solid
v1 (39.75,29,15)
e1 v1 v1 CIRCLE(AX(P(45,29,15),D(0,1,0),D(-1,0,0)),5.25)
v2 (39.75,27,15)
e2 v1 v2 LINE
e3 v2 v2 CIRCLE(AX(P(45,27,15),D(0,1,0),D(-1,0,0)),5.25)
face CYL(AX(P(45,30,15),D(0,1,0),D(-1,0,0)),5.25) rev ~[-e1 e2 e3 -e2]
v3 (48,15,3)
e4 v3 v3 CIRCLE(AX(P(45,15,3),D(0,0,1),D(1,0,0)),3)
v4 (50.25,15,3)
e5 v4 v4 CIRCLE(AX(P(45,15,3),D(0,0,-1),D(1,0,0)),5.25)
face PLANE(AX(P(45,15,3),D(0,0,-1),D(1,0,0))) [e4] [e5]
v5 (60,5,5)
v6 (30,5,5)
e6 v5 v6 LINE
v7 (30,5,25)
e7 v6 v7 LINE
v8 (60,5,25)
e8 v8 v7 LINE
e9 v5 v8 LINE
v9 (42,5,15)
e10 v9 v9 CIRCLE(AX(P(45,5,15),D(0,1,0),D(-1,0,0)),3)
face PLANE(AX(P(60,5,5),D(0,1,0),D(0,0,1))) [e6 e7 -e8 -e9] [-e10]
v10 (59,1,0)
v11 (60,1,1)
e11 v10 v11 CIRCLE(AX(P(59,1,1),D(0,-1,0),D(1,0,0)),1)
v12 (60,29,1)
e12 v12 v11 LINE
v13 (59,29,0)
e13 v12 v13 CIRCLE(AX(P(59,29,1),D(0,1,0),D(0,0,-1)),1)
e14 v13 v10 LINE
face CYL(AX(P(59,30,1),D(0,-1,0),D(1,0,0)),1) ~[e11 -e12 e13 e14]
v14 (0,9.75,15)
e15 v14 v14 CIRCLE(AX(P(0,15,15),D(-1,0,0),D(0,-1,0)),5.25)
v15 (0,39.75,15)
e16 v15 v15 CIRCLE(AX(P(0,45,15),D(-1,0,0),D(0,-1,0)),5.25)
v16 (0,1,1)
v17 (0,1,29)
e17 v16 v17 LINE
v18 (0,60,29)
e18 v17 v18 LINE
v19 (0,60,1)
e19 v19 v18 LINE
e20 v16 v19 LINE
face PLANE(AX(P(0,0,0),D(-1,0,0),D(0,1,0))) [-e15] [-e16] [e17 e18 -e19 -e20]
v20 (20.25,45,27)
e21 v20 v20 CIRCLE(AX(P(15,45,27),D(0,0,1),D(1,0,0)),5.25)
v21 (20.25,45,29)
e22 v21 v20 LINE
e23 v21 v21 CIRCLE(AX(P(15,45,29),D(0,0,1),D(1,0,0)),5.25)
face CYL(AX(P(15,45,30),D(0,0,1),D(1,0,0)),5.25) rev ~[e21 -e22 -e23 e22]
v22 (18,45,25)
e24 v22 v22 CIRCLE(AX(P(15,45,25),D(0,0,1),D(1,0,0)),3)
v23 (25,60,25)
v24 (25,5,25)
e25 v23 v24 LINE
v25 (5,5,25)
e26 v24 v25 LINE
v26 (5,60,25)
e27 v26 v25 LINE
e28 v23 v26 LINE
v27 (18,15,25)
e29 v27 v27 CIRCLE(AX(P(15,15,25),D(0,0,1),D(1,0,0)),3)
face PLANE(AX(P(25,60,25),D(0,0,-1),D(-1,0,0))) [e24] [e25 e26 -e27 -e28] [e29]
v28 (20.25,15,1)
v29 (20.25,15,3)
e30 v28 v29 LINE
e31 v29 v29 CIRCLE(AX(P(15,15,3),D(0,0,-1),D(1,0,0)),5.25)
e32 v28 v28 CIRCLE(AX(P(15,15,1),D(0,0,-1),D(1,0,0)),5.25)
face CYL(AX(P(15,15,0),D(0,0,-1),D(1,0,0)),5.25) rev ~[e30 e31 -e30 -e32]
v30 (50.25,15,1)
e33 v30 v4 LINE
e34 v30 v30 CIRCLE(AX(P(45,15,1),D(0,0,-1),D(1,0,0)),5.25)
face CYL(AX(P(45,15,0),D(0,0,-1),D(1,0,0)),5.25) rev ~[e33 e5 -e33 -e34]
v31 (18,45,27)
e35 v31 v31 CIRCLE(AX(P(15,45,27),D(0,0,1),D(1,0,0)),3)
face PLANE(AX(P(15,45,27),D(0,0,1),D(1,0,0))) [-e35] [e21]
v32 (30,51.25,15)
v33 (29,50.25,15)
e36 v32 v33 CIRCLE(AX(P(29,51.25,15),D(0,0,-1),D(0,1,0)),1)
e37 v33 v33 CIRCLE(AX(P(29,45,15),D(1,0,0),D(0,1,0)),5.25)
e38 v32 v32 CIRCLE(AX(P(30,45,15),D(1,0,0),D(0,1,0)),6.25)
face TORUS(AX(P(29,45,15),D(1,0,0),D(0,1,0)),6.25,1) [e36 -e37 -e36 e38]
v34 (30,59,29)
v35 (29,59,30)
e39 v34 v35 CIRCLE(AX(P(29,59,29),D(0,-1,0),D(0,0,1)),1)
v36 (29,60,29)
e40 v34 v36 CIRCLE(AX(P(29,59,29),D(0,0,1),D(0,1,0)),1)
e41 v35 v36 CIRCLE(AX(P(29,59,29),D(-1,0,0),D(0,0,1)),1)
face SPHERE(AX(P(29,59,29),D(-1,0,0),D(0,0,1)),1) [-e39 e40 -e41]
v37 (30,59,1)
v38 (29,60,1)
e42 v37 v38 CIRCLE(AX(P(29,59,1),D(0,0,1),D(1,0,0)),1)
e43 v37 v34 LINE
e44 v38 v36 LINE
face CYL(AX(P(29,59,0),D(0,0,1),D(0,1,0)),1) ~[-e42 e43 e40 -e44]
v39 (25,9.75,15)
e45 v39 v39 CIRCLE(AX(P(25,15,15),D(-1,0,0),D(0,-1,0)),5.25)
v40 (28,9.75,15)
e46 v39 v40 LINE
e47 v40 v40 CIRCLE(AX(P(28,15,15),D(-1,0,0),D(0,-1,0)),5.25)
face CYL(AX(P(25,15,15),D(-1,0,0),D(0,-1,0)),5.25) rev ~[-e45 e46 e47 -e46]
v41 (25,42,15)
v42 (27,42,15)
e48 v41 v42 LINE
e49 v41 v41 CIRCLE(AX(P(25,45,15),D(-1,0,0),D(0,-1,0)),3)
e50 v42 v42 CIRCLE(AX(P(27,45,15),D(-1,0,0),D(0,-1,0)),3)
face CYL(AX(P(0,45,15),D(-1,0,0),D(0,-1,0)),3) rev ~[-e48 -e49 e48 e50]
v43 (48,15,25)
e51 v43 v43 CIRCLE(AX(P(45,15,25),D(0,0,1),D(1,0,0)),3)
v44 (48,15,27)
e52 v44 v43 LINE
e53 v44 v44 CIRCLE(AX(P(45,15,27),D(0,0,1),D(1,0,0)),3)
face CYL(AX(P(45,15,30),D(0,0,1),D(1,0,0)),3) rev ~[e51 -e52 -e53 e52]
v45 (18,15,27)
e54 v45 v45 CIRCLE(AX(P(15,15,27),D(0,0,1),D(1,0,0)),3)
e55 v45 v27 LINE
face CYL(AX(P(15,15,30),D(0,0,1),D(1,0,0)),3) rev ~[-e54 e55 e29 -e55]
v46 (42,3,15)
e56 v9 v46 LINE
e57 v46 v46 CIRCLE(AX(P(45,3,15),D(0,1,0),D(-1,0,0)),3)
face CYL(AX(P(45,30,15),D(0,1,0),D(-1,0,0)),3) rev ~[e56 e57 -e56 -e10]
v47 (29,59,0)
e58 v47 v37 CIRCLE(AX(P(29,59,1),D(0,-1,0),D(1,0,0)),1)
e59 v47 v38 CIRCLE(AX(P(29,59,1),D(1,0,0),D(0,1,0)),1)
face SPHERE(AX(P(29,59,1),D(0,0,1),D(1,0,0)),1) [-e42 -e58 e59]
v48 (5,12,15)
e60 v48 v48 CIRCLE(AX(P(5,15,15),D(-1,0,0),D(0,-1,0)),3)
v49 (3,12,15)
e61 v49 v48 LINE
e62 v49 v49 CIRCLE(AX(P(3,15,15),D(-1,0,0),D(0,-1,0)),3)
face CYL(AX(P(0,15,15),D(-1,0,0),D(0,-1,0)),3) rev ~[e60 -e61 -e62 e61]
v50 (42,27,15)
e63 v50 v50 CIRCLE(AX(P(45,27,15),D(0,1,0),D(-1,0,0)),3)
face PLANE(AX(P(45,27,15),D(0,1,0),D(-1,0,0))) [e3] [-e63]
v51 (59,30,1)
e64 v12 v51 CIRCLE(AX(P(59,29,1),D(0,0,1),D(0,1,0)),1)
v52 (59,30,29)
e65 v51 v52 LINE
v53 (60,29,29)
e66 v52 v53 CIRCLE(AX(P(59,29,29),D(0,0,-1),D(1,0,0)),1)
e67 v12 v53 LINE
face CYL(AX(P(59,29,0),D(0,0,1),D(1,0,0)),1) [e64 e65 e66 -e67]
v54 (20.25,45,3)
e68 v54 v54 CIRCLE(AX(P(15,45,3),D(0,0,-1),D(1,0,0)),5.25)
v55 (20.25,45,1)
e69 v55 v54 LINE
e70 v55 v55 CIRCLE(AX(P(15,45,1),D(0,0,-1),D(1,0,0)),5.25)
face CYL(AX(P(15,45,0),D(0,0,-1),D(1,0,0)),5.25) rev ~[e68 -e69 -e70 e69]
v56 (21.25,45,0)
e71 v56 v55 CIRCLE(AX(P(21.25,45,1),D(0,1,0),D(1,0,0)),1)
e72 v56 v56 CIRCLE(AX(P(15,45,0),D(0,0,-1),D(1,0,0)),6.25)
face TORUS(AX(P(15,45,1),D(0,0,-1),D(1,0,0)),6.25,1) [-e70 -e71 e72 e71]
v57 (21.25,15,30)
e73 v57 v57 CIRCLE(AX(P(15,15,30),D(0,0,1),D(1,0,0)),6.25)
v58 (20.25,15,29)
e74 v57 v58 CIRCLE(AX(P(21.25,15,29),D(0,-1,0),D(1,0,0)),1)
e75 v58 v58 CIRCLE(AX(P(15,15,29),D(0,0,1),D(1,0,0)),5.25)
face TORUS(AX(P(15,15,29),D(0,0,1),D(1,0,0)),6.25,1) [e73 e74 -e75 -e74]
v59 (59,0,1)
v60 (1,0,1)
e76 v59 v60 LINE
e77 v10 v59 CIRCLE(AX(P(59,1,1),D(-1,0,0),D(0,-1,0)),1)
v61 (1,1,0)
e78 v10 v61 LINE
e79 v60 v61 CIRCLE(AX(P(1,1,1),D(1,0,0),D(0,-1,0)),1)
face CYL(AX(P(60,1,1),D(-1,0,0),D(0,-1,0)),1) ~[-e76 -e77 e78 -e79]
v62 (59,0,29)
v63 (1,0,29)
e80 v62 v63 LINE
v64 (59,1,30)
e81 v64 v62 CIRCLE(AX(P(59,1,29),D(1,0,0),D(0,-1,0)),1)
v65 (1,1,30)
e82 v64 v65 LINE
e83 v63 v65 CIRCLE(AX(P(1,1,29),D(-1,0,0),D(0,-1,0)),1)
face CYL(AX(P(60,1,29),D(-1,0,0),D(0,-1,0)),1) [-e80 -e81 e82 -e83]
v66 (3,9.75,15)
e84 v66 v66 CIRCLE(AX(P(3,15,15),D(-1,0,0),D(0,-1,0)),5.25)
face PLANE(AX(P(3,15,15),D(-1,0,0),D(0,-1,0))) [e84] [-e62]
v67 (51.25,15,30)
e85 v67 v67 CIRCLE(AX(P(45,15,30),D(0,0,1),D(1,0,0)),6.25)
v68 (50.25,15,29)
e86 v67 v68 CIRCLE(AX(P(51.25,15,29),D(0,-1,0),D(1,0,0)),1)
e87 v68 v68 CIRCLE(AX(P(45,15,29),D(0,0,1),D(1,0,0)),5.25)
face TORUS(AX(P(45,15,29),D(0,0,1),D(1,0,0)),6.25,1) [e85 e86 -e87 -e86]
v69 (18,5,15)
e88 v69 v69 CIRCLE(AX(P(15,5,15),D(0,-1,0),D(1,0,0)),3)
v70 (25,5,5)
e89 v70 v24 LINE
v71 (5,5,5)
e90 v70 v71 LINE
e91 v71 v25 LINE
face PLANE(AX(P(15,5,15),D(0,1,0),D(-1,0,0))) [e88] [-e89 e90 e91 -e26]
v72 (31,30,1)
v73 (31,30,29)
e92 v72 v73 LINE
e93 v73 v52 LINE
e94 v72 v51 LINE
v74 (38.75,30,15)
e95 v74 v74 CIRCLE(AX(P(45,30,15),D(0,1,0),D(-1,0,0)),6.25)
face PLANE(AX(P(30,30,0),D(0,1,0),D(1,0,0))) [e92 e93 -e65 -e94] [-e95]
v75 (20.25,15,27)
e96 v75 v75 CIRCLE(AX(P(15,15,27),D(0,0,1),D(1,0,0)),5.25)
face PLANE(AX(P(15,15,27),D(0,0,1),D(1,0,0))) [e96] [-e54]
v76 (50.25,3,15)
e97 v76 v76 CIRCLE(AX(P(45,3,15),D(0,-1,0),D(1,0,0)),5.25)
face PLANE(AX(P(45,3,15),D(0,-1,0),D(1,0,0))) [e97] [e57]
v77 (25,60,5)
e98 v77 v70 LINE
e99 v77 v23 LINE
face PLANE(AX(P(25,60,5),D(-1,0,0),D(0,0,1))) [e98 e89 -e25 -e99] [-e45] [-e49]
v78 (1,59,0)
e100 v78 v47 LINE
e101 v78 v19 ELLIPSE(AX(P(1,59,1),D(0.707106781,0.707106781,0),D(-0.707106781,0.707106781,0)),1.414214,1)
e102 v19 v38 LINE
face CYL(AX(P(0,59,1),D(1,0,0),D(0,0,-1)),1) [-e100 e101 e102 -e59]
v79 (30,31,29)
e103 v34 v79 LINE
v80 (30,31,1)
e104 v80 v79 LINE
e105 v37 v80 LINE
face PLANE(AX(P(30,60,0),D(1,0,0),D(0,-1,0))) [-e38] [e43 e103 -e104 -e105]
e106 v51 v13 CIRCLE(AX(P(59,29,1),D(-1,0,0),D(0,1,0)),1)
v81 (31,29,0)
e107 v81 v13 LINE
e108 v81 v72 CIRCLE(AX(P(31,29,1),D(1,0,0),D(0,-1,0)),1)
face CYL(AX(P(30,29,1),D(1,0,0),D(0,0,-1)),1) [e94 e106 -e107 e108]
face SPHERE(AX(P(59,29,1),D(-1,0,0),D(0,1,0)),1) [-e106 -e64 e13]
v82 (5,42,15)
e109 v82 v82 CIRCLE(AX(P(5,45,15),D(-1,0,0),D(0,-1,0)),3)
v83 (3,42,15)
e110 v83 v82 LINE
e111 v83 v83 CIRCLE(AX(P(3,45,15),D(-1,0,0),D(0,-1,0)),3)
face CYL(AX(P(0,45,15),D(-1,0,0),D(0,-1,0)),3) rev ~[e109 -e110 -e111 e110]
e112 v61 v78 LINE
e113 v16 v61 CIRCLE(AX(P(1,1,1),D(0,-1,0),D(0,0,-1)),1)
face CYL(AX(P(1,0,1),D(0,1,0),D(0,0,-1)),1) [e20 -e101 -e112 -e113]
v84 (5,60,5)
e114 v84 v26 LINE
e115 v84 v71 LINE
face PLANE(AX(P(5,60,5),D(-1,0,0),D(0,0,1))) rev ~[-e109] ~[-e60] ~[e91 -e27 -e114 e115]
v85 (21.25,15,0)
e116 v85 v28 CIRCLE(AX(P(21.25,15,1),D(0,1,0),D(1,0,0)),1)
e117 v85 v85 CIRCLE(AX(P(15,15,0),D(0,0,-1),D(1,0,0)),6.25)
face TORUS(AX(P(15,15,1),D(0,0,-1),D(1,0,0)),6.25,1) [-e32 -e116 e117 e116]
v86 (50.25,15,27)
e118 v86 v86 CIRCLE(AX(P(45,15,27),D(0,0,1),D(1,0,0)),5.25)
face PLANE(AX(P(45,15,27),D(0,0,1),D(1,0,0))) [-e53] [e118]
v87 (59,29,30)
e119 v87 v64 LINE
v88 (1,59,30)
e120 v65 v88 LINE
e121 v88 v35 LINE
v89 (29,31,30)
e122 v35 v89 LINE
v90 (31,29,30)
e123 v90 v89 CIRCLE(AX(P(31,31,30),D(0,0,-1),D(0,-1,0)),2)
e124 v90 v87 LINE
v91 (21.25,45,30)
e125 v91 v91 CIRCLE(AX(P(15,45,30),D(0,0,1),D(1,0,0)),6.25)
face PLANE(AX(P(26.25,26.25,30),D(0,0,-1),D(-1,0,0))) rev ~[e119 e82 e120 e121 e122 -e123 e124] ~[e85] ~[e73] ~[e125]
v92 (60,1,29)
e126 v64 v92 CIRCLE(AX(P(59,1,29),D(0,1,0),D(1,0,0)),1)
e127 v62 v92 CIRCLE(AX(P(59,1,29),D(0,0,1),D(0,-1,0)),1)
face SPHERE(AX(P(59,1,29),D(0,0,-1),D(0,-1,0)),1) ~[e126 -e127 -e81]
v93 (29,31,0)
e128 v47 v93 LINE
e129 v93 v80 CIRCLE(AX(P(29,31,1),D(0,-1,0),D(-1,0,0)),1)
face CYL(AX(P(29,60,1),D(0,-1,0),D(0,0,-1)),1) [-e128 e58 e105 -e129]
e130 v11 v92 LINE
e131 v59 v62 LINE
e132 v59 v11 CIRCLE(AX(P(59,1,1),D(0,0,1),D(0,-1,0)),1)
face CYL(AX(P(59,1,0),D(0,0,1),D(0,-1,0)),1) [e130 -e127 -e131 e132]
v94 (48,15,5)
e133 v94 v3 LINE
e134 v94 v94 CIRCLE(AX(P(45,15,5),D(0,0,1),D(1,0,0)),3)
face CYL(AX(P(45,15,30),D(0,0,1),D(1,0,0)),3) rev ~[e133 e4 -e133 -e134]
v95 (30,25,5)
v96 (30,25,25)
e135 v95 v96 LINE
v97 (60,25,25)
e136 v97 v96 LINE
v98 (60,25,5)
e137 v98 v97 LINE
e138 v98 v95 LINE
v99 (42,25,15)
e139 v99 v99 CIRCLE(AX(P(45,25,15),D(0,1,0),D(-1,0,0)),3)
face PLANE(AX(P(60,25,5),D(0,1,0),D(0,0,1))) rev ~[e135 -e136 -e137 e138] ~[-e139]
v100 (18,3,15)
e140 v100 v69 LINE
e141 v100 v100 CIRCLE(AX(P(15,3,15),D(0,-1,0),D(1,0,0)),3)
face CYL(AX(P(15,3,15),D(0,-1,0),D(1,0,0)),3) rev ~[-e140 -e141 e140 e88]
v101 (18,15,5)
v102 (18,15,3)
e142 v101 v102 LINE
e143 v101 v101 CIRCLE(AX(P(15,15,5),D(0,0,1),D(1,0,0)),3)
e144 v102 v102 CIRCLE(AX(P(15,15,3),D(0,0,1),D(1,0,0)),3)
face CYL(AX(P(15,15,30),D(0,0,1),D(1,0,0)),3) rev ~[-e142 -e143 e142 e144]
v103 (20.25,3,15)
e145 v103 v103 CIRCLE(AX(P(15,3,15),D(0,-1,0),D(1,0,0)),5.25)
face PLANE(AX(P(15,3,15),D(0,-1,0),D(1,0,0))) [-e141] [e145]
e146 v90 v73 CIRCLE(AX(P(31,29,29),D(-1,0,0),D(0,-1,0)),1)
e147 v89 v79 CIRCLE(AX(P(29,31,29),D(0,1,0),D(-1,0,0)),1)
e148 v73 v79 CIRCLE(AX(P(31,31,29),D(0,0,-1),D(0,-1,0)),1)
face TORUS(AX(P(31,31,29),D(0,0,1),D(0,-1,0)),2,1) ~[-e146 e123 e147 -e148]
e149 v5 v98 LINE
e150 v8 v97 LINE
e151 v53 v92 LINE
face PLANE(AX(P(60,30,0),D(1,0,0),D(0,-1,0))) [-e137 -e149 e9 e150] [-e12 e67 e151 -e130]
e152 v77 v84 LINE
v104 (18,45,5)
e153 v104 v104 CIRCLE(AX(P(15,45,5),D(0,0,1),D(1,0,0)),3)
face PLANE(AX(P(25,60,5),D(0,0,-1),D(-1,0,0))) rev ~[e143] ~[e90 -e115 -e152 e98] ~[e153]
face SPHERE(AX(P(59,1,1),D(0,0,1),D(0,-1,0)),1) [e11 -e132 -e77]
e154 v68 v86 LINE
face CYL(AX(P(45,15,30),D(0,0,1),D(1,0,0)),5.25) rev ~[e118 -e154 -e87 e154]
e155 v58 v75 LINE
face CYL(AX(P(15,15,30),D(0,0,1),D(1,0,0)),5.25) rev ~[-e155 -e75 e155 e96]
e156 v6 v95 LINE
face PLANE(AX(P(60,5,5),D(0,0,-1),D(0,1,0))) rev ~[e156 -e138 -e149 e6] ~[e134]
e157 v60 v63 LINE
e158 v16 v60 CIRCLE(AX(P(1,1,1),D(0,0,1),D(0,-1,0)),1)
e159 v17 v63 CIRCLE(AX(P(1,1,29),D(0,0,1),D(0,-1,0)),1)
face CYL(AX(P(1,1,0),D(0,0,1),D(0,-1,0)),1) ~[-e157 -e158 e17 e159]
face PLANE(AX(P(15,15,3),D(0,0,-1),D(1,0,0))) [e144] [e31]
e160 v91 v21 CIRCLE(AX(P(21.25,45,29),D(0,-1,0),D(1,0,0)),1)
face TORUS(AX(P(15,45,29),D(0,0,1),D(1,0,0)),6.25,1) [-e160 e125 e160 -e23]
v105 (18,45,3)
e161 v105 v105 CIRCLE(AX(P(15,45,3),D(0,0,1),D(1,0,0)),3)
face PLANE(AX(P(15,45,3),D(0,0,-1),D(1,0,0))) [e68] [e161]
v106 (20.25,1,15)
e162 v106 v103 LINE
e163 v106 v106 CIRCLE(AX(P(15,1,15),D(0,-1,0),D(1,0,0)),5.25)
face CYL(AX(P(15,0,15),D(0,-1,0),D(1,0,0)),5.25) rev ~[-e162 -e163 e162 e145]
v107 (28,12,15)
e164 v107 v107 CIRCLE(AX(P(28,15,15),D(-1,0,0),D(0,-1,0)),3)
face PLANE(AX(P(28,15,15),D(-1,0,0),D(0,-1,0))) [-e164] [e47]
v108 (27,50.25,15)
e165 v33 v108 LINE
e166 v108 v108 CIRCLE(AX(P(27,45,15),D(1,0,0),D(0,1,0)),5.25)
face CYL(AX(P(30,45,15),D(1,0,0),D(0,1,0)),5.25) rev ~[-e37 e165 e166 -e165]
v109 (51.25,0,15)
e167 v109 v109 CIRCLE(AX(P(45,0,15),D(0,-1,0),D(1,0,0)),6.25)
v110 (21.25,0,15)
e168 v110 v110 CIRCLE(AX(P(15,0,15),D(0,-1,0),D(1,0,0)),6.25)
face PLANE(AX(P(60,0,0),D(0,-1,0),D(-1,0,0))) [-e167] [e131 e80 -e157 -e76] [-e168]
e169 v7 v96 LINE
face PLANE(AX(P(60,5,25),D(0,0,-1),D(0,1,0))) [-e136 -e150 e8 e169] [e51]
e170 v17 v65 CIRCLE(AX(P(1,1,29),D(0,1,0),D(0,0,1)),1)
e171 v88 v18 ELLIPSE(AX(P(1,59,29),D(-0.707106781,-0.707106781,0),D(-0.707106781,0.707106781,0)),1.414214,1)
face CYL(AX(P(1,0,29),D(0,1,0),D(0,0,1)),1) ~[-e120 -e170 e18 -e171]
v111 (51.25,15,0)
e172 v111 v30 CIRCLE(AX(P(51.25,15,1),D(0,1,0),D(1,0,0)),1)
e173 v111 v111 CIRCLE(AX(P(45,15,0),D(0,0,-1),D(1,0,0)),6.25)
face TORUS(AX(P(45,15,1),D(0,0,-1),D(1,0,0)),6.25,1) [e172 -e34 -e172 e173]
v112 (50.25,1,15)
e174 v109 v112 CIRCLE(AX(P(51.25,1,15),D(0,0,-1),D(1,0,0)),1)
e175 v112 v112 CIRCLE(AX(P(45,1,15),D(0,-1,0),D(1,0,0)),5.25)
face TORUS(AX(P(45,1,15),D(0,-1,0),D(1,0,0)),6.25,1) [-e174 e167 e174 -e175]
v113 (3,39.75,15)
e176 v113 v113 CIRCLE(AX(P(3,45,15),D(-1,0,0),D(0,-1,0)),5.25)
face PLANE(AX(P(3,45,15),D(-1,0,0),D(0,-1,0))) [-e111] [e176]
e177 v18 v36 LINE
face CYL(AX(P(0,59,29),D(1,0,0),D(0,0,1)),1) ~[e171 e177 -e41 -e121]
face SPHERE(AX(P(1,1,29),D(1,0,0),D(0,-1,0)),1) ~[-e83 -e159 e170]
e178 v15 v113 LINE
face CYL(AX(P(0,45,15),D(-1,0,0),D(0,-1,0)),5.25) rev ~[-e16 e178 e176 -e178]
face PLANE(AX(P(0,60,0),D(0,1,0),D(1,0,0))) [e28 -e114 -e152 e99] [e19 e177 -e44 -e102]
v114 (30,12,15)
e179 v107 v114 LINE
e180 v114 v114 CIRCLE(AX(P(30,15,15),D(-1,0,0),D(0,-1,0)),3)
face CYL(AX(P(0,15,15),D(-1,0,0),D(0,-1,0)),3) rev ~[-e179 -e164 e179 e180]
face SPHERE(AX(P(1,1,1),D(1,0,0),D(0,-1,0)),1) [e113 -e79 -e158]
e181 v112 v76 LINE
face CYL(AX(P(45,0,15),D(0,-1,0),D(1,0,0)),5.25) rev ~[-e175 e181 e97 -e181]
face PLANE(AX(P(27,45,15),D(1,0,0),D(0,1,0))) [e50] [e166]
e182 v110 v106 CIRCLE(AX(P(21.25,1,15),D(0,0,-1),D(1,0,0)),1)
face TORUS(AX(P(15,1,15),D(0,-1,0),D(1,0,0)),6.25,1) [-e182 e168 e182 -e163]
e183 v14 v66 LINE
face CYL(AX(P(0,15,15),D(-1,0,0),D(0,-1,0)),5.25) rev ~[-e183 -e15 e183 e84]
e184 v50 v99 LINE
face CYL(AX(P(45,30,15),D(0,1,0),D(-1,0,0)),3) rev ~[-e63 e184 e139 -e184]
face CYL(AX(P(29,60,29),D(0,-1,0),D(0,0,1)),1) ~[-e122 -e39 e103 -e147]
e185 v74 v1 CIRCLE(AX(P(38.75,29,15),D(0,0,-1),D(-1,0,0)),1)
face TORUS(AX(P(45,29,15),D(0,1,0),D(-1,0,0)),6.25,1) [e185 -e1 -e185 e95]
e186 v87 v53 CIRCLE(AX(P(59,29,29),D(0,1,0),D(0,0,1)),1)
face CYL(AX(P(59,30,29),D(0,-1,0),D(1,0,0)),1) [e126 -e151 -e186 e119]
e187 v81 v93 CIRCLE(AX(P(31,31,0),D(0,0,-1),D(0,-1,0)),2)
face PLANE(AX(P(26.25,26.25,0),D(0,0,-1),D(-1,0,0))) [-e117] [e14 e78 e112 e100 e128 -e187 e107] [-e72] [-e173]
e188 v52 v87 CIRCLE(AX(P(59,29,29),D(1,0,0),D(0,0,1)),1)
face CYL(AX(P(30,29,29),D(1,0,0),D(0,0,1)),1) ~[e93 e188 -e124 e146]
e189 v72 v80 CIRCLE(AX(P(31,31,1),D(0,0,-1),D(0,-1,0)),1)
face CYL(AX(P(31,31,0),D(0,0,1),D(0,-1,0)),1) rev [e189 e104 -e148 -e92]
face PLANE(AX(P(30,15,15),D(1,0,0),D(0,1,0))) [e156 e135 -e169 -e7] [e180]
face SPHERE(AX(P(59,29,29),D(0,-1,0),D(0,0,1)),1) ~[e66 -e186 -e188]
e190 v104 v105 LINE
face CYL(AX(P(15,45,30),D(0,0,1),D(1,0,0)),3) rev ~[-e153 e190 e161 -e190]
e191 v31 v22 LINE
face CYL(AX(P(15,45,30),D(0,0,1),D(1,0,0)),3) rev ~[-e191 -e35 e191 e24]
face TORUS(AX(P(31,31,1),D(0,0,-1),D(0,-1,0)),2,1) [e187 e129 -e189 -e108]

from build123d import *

# Parameters (mm, degrees)
PAD_DEPTH       = 30
SKETCH001_W     = 20
SKETCH001_H     = 20
POCKET_DEPTH    = 30
SKETCH002_W     = 20
SKETCH002_H     = 20
POCKET001_DEPTH = 55
SKETCH003_R     = 3
POCKET002_DEPTH = 30
SKETCH004_R     = 3
POCKET003_DEPTH = 30
SKETCH005_R     = 5.25
POCKET004_DEPTH = 3
SKETCH006_R     = 5.25
POCKET005_DEPTH = 3
SKETCH007_R     = 5.25
POCKET006_DEPTH = 3
SKETCH008_R     = 5.25
POCKET007_DEPTH = 3
SKETCH009_R     = 5.25
POCKET008_DEPTH = 3
SKETCH010_R     = 3
POCKET009_DEPTH = 2
SKETCH011_R     = 3
POCKET010_DEPTH = 30
SKETCH012_R     = 5.25
POCKET011_DEPTH = 3
SKETCH013_R     = 5.25
POCKET012_DEPTH = 3
FILLET_R        = 1


with BuildPart() as part:
    # Sketch → Pad (new body)
    with BuildSketch(Plane.XY):
        Polygon((60, 0), (0, 0), (0, 60), (30, 60), (30, 30), (60, 30), align=None)
    extrude(amount=PAD_DEPTH)

    # Sketch001 (on Face6 of Pad) → Pocket (cut)
    with BuildSketch(Plane.YZ.offset(60)):
        with Locations((15, 15)):
            Rectangle(SKETCH001_W, SKETCH001_H)
    extrude(amount=-POCKET_DEPTH, mode=Mode.SUBTRACT)

    # Sketch002 (on Face11 of Pocket) → Pocket001 (cut)
    with BuildSketch(Plane(origin=(0, 60, 0), x_dir=(-1, 0, 0), z_dir=(0, 1, 0))):
        with Locations((-15, 15)):
            Rectangle(SKETCH002_W, SKETCH002_H)
    extrude(amount=-POCKET001_DEPTH, mode=Mode.SUBTRACT)

    # Sketch003 (on Face6 of Pocket001) → Pocket002 (cut)
    with BuildSketch(Plane(origin=(0, 30, 0), x_dir=(-1, 0, 0), z_dir=(0, 1, 0))):
        with Locations((-45, 15)):
            Circle(SKETCH003_R)
    extrude(amount=-POCKET002_DEPTH, mode=Mode.SUBTRACT)

    # Sketch004 (on Face5 of Pocket002) → Pocket003 (cut)
    with BuildSketch(Plane(origin=(0, 0, 0), x_dir=(0, -1, 0), z_dir=(-1, 0, 0))):
        with Locations((-15, 15)):
            Circle(SKETCH004_R)
        with Locations((-45, 15)):
            Circle(SKETCH004_R)
    extrude(amount=-POCKET003_DEPTH, mode=Mode.SUBTRACT)

    # Sketch005 (on Face18 of Pocket003) → Pocket004 (cut)
    with BuildSketch(Plane(origin=(25, 0, 0), x_dir=(0, -1, 0), z_dir=(-1, 0, 0))):
        with Locations((-15, 15)):
            Circle(SKETCH005_R)
    extrude(amount=-POCKET004_DEPTH, mode=Mode.SUBTRACT)

    # Sketch006 (on Face5 of Pocket004) → Pocket005 (cut)
    with BuildSketch(Plane(origin=(0, 0, 0), x_dir=(0, -1, 0), z_dir=(-1, 0, 0))):
        with Locations((-45, 15)):
            Circle(SKETCH006_R)
        with Locations((-15, 15)):
            Circle(SKETCH006_R)
    extrude(amount=-POCKET005_DEPTH, mode=Mode.SUBTRACT)

    # Sketch007 (on Face7 of Pocket005) → Pocket006 (cut)
    with BuildSketch(Plane(origin=(0, 30, 0), x_dir=(-1, 0, 0), z_dir=(0, 1, 0))):
        with Locations((-45, 15)):
            Circle(SKETCH007_R)
    extrude(amount=-POCKET006_DEPTH, mode=Mode.SUBTRACT)

    # Sketch008 (on Face13 of Pocket006) → Pocket007 (cut)
    with BuildSketch(Plane.YZ.offset(30)):
        with Locations((45, 15)):
            Circle(SKETCH008_R)
    extrude(amount=-POCKET007_DEPTH, mode=Mode.SUBTRACT)

    # Sketch009 (on Face1 of Pocket007) → Pocket008 (cut)
    with BuildSketch(Plane.XZ):
        with Locations((15, 15)):
            Circle(SKETCH009_R)
        with Locations((45, 15)):
            Circle(SKETCH009_R)
    extrude(amount=-POCKET008_DEPTH, mode=Mode.SUBTRACT)

    # Sketch010 (on Face18 of Pocket008) → Pocket009 (cut)
    with BuildSketch(Plane.XZ.offset(-3)):
        with Locations((15, 15)):
            Circle(SKETCH010_R)
    extrude(amount=-POCKET009_DEPTH, mode=Mode.SUBTRACT)

    # Sketch011 (on Face4 of Pocket009) → Pocket010 (cut)
    with BuildSketch(Plane.XY.offset(30)):
        with Locations((15, 45)):
            Circle(SKETCH011_R)
        with Locations((15, 15)):
            Circle(SKETCH011_R)
        with Locations((45, 15)):
            Circle(SKETCH011_R)
    extrude(amount=-POCKET010_DEPTH, mode=Mode.SUBTRACT)

    # Sketch012 (on Face4 of Pocket010) → Pocket011 (cut)
    with BuildSketch(Plane.XY.offset(30)):
        with Locations((15, 45)):
            Circle(SKETCH012_R)
        with Locations((15, 15)):
            Circle(SKETCH012_R)
        with Locations((45, 15)):
            Circle(SKETCH012_R)
    extrude(amount=-POCKET011_DEPTH, mode=Mode.SUBTRACT)

    # Sketch013 (on Face3 of Pocket011) → Pocket012 (cut)
    with BuildSketch(Plane(origin=(0, 0, 0), x_dir=(1, 0, 0), z_dir=(0, 0, -1))):
        with Locations((45, -15)):
            Circle(SKETCH013_R)
        with Locations((15, -15)):
            Circle(SKETCH013_R)
        with Locations((15, -45)):
            Circle(SKETCH013_R)
    extrude(amount=-POCKET012_DEPTH, mode=Mode.SUBTRACT)

    # Fillet
    fillet_edges = [part.edges().sort_by_distance(p)[0] for p in [
        (60, 0, 15),
        (30, 0, 0),
        (30, 0, 30),
        (0, 0, 15),
        (39.75, 0, 15),
        (9.75, 0, 15),
        (60, 15, 30),
        (0, 30, 30),
        (45, 30, 30),
        (15, 60, 30),
        (30, 45, 30),
        (9.75, 15, 30),
        (39.75, 15, 30),
        (9.75, 45, 30),
        (30, 60, 15),
        (30, 45, 0),
        (30, 30, 15),
        (30, 39.75, 15),
        (45, 30, 0),
        (60, 30, 15),
        (50.25, 30, 15),
        (60, 15, 0),
        (0, 30, 0),
        (15, 60, 0),
        (9.75, 15, 0),
        (39.75, 15, 0),
        (9.75, 45, 0),
    ]]
    fillet(fillet_edges, radius=FILLET_R)


solid = part.part
